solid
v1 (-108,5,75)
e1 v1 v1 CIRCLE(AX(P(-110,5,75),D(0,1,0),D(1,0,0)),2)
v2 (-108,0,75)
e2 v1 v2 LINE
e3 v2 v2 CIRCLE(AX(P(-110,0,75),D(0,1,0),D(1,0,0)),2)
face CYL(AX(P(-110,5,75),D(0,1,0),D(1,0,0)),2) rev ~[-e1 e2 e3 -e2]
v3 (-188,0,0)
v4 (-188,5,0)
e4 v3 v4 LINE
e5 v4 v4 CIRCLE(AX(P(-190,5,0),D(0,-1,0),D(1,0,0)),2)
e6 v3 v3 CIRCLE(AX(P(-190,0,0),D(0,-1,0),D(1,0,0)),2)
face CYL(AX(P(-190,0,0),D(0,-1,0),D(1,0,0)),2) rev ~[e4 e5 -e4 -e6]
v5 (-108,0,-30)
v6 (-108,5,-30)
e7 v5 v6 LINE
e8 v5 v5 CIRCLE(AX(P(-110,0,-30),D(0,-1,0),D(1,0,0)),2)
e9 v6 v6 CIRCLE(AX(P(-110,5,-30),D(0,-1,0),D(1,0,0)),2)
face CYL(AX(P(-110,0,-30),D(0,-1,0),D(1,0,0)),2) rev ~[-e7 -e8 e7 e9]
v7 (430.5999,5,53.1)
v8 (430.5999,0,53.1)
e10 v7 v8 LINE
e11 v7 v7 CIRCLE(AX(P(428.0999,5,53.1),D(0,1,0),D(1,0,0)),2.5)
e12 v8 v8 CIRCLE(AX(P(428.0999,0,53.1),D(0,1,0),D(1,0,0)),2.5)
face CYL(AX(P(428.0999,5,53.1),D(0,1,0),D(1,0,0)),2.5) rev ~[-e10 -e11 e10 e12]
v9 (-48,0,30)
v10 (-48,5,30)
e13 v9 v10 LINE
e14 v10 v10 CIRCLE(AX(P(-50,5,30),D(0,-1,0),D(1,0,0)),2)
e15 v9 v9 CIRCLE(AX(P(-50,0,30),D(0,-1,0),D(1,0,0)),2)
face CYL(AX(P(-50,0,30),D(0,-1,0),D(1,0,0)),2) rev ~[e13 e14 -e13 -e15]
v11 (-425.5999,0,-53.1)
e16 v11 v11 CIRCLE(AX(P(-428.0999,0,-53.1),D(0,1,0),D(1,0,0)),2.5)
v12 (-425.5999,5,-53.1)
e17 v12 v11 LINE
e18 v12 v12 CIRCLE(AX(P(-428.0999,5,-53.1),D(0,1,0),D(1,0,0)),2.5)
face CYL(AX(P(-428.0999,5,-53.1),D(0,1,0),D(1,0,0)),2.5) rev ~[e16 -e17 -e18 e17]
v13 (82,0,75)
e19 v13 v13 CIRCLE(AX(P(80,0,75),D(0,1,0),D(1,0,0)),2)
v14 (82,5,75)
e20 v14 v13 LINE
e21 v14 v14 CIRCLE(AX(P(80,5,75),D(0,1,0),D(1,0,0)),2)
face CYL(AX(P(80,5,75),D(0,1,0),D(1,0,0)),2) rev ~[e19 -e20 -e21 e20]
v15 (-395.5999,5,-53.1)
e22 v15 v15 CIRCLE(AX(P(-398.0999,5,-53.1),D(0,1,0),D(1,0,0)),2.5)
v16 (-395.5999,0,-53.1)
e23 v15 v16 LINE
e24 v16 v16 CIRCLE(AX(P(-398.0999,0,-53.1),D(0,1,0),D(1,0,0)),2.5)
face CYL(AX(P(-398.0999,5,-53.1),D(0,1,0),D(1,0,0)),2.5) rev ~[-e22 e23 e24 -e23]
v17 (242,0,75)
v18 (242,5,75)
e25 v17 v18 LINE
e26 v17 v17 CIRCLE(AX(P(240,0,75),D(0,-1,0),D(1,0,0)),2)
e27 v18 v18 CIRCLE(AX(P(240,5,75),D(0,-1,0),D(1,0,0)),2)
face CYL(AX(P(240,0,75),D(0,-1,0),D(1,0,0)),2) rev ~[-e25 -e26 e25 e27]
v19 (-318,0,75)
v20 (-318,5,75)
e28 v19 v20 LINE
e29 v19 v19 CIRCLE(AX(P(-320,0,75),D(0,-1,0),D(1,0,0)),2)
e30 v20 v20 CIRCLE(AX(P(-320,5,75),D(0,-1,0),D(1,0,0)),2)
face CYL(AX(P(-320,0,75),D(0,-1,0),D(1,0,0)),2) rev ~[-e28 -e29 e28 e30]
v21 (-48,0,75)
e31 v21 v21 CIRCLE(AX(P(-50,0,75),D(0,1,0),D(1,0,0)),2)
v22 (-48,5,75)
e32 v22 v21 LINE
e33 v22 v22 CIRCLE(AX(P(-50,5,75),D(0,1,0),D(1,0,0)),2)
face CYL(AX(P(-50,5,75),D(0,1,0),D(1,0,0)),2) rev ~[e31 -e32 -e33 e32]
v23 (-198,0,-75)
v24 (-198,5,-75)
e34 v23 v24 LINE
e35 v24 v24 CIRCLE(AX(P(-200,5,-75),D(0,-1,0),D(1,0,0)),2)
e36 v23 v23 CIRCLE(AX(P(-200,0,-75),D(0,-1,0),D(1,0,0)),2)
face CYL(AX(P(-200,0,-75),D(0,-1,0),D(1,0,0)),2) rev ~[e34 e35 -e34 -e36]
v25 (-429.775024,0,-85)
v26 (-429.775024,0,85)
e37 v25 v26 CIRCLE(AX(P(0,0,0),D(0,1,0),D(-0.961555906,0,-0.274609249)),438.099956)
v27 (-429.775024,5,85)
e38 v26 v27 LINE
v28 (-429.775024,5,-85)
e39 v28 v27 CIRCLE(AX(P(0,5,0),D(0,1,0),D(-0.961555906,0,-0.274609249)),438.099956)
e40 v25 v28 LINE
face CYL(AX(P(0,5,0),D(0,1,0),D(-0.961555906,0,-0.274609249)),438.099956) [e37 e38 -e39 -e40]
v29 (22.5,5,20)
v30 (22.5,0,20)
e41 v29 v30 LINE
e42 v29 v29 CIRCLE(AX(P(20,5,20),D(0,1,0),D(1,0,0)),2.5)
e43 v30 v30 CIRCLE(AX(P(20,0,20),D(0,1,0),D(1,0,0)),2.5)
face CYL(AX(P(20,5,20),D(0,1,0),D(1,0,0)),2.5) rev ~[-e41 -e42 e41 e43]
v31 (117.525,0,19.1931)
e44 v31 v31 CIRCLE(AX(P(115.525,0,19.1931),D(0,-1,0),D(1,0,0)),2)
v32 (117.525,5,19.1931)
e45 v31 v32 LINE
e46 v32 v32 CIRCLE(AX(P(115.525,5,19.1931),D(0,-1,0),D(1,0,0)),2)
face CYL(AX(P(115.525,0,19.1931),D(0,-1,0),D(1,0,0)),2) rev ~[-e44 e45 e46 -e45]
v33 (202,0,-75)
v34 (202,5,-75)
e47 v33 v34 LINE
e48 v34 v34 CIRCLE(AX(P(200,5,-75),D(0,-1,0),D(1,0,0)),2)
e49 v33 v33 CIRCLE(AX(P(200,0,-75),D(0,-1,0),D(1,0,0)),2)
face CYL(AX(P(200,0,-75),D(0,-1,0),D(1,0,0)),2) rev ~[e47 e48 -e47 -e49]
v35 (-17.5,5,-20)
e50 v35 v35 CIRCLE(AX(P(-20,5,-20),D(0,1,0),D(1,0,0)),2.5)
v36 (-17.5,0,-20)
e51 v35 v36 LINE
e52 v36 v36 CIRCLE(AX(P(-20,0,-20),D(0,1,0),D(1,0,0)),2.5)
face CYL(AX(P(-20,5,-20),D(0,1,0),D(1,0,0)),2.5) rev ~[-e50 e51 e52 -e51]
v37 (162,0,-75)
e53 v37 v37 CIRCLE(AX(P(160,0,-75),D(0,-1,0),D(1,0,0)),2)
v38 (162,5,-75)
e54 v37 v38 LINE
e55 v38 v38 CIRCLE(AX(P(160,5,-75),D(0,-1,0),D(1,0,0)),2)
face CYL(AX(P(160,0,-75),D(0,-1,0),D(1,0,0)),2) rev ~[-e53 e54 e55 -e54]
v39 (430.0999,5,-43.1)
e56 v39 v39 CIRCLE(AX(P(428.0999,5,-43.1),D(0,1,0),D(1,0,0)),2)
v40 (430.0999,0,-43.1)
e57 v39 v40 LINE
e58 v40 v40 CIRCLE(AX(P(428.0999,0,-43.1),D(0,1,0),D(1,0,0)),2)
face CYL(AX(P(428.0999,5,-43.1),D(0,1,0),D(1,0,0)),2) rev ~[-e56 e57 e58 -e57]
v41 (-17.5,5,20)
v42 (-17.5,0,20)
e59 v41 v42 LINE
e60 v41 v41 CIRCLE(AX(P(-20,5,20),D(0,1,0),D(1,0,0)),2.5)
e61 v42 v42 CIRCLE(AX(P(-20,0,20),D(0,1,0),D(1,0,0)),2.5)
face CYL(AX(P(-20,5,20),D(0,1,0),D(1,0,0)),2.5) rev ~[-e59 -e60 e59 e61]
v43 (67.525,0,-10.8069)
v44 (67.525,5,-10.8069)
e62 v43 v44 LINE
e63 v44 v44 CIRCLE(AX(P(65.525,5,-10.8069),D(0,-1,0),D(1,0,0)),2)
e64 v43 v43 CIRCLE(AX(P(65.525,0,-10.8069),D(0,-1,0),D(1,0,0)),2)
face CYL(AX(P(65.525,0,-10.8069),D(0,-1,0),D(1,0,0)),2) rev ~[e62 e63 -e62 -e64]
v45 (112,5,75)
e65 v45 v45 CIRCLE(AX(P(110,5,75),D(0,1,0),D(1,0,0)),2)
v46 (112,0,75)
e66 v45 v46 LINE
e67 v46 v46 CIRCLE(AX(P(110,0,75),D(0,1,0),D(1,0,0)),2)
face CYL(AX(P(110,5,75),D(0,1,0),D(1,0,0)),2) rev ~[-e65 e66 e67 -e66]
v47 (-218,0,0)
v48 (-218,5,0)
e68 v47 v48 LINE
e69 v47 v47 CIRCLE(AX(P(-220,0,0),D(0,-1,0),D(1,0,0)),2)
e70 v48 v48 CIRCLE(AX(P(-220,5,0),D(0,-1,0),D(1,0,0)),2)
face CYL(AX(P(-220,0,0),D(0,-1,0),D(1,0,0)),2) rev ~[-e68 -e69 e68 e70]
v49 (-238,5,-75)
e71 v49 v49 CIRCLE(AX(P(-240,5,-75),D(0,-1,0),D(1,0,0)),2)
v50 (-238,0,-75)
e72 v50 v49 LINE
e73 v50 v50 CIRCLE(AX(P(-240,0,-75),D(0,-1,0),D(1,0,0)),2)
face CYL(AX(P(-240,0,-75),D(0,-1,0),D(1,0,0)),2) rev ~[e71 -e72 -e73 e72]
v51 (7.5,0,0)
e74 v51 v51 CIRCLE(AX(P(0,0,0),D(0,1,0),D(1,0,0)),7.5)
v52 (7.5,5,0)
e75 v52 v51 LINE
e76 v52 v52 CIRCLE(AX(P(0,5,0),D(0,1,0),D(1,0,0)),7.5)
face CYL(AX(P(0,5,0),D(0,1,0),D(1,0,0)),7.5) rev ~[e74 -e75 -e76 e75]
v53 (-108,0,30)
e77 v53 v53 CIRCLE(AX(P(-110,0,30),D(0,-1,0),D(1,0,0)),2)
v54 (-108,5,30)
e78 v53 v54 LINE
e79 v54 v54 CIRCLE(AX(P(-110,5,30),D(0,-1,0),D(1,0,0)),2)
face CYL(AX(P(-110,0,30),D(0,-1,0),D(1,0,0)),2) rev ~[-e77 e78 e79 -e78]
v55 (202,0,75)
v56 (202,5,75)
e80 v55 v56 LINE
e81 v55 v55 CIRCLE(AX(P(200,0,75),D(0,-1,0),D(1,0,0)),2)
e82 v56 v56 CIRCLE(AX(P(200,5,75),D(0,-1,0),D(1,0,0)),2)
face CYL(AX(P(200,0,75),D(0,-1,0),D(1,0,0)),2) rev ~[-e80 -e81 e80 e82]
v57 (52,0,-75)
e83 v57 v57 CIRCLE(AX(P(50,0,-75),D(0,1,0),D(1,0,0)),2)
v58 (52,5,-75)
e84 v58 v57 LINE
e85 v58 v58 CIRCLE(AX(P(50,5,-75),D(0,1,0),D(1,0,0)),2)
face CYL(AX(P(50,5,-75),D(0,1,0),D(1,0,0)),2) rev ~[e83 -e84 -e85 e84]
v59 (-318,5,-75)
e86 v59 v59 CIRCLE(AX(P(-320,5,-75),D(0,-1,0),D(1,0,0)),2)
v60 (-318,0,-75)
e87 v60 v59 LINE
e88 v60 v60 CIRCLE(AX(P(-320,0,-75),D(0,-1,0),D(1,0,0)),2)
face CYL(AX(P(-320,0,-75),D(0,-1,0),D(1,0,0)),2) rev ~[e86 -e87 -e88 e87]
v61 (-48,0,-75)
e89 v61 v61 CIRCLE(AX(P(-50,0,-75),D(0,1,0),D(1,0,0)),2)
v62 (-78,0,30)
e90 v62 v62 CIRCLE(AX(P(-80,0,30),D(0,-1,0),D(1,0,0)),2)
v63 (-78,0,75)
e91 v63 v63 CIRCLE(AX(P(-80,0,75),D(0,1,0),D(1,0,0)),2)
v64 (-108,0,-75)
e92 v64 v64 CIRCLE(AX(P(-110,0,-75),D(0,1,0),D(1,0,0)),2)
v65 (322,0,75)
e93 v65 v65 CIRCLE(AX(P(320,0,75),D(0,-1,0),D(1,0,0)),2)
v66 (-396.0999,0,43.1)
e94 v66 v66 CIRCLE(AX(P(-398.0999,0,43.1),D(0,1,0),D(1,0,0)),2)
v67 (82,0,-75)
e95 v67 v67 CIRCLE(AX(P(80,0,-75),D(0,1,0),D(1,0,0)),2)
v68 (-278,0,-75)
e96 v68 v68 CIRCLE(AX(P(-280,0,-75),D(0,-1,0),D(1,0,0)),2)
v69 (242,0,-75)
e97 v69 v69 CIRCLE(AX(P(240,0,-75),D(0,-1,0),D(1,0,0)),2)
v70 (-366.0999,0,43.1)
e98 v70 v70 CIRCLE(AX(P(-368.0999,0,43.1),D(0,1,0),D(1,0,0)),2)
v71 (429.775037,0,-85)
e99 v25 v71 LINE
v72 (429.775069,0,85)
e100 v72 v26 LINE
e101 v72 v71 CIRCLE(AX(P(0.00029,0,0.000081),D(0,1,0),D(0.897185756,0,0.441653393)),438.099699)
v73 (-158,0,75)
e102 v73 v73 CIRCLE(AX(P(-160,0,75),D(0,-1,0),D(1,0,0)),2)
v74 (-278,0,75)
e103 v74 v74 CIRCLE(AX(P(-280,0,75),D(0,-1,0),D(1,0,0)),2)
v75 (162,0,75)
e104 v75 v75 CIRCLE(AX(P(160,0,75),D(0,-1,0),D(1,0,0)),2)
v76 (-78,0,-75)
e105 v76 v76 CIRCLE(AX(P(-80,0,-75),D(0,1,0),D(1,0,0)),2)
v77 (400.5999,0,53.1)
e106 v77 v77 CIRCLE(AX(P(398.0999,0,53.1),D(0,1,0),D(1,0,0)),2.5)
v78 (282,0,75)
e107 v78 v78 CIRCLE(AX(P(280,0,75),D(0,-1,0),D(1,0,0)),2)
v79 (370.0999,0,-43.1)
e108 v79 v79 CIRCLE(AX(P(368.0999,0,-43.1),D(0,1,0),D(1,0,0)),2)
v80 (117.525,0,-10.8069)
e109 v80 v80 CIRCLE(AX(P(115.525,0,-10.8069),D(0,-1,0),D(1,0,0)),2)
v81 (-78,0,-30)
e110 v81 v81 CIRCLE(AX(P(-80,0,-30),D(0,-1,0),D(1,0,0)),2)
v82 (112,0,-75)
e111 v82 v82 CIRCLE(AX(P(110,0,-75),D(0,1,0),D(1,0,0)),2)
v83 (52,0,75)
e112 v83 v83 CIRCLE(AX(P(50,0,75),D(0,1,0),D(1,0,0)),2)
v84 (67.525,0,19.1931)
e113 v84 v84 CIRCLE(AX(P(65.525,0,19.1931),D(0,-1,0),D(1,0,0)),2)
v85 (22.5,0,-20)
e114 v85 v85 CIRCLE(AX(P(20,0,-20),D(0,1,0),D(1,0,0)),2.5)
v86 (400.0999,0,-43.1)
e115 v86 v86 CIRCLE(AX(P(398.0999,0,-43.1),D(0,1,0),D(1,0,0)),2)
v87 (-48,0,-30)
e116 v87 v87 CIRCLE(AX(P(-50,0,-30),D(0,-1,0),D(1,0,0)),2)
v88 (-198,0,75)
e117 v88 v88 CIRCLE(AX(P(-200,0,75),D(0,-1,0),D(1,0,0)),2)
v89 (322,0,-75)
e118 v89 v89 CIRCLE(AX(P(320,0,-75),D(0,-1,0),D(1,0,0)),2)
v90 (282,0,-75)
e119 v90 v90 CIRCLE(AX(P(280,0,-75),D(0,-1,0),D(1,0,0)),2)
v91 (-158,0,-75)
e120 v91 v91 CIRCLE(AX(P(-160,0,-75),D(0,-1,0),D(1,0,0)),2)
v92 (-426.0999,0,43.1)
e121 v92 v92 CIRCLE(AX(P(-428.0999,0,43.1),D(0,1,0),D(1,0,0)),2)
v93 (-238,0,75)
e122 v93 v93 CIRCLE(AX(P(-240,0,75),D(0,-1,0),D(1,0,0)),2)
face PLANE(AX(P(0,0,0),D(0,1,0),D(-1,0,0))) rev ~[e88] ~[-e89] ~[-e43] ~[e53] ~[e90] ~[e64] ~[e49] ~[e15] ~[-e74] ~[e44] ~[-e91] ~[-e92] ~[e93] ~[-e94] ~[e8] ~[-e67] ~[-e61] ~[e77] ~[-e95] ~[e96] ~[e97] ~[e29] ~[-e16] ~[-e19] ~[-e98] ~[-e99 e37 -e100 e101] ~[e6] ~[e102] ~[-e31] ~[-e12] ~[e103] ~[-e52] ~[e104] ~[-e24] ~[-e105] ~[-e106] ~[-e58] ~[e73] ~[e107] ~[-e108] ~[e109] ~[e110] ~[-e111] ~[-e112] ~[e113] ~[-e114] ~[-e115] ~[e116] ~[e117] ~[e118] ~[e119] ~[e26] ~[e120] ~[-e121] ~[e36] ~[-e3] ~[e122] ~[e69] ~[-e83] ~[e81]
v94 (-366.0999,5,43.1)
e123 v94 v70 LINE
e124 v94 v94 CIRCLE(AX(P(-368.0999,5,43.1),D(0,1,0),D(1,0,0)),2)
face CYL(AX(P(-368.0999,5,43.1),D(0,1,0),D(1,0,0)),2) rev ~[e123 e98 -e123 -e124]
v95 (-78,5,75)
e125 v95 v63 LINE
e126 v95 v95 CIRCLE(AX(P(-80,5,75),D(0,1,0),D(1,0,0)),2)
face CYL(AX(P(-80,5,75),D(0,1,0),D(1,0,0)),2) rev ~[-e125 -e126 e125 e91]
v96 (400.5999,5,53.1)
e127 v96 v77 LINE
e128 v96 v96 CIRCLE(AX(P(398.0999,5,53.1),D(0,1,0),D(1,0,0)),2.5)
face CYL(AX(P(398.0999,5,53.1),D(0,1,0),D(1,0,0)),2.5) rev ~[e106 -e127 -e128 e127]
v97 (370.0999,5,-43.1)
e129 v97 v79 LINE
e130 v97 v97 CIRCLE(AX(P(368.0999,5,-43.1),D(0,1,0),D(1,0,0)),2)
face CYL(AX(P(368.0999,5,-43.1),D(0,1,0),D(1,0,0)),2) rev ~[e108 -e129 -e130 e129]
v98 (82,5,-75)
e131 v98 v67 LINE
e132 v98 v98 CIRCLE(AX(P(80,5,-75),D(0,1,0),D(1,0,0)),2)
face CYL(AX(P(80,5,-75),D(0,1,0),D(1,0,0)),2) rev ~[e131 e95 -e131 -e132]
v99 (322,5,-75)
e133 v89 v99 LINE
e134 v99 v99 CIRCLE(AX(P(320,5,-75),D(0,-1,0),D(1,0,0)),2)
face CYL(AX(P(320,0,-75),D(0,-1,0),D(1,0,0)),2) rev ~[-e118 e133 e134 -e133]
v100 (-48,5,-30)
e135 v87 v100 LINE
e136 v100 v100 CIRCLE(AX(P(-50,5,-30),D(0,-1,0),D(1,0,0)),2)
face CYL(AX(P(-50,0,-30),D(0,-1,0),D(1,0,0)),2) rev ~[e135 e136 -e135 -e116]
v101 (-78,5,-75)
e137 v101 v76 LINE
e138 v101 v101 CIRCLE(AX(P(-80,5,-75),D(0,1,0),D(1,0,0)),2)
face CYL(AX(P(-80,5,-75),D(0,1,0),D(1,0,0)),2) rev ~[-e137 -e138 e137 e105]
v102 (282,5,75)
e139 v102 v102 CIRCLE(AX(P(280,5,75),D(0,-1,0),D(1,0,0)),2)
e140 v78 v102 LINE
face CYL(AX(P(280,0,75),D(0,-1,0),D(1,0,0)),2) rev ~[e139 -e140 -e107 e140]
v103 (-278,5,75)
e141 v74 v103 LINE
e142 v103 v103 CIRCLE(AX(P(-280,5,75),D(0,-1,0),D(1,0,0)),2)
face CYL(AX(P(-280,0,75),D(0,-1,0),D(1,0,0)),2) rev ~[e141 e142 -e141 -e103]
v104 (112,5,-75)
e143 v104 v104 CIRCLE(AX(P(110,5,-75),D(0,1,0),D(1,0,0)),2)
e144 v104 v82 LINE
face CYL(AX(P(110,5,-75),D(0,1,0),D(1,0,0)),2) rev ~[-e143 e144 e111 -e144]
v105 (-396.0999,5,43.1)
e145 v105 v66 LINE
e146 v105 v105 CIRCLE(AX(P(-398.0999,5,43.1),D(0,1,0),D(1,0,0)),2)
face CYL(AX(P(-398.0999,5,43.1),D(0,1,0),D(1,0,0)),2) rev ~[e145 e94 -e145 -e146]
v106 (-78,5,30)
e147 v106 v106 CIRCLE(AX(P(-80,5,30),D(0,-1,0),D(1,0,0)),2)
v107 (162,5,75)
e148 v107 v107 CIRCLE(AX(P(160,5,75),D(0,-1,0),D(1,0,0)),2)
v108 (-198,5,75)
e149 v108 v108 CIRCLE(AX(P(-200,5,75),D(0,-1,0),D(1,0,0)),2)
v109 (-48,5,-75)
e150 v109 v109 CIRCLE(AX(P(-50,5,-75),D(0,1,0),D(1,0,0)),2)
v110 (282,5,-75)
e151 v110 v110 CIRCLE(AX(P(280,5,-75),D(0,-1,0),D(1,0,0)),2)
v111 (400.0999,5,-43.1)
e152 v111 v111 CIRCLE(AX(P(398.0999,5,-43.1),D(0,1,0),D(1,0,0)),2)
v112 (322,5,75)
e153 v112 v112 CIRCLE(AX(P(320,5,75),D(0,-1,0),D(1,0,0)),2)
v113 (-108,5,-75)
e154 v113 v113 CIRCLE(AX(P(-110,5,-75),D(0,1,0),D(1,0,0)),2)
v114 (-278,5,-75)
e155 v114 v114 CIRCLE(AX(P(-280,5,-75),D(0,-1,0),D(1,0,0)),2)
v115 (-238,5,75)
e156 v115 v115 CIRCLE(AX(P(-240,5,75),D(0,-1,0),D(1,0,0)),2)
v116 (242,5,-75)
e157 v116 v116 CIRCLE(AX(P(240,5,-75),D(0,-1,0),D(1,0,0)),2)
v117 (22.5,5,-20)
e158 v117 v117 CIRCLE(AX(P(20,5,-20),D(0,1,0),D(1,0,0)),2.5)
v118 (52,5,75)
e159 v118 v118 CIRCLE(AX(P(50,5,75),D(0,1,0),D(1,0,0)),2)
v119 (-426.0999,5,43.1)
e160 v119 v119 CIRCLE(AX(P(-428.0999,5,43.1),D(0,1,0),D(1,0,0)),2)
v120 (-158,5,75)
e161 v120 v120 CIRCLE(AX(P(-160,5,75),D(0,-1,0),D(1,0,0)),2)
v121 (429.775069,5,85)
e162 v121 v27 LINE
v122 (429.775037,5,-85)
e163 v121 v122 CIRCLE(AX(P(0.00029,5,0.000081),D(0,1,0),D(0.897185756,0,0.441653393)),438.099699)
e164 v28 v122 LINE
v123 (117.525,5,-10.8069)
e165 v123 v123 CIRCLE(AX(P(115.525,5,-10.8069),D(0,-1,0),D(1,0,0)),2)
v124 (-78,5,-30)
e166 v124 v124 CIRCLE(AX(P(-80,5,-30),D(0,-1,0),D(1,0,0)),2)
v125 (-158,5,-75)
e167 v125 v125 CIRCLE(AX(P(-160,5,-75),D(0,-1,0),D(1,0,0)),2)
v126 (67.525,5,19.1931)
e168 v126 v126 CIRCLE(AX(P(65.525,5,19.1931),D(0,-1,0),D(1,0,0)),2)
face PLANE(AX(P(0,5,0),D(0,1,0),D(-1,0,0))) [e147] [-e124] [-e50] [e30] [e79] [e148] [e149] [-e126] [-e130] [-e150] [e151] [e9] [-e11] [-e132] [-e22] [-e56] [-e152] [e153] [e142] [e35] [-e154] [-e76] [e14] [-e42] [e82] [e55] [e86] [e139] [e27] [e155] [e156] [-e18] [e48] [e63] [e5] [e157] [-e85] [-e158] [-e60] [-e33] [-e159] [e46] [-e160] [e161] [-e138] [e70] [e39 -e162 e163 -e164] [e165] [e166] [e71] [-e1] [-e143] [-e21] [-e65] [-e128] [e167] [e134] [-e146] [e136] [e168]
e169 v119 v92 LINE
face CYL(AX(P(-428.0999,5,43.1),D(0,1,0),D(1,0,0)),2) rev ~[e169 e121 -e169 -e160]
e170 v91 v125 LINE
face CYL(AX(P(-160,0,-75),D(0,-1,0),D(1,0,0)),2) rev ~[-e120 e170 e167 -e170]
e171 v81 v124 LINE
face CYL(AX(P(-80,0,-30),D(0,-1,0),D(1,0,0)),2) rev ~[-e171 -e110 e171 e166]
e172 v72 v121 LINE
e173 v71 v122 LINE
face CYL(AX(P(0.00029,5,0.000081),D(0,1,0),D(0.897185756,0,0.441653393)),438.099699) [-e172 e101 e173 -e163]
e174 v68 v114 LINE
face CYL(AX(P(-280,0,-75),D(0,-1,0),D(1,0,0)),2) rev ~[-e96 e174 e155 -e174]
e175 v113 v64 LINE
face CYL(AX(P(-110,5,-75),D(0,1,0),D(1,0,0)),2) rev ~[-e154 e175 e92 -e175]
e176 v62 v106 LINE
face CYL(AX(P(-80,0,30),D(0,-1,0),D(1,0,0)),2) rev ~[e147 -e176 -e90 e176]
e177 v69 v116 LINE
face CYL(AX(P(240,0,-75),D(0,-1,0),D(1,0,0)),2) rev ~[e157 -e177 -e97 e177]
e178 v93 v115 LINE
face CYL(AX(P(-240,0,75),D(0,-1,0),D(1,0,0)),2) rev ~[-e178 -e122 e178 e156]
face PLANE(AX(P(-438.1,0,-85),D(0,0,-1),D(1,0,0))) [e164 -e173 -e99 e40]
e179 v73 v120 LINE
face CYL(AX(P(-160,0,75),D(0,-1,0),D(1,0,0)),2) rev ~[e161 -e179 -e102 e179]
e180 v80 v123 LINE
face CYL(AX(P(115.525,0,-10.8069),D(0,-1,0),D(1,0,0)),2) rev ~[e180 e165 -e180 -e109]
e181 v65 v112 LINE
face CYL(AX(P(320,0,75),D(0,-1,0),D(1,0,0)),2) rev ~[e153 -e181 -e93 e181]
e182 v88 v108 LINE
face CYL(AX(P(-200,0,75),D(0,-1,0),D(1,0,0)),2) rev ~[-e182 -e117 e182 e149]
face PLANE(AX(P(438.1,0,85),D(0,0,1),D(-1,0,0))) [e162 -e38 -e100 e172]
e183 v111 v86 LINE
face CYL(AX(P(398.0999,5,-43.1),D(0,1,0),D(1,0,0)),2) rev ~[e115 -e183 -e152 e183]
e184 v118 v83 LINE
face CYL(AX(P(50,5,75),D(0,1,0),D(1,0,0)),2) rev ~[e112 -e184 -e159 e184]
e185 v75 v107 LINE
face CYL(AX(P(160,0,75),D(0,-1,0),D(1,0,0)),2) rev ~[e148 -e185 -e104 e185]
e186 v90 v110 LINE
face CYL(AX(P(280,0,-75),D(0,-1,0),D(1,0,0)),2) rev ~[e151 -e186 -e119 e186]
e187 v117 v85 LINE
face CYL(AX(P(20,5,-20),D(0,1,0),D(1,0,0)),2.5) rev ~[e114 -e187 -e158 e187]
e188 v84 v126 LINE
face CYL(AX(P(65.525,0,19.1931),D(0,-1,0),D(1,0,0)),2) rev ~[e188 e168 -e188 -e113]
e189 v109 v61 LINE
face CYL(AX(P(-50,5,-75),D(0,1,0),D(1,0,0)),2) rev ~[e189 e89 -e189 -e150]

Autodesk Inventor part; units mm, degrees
ref_plane "YZ Plane" through (0, 0, 0) normal (1, 0, 0) x (0, 1, 0)
ref_plane "XZ Plane" through (0, 0, 0) normal (0, 1, 0) x (-1, 0, 0)
ref_plane "XY Plane" through (0, 0, 0) normal (0, 0, 1) x (1, 0, 0)
sketch "Sketch1" plane through (0, 0, 0) normal (0, 1, 0) x (-1, 0, 0)
  line L0 (-438.1, 85) -> (438.1, 85)
  line L1 (438.1, 85) -> (438.1, -85)
  line L2 (438.1, -85) -> (-438.1, -85)
  line L3 (-438.1, -85) -> (-438.1, 85)
  line L4 (-438.1, 85) -> (438.1, -85) construction
  line L5 (438.1, 85) -> (-438.1, -85) construction
  point P0 (0, 0)
  dimension "d0" = 876.2
  dimension "d1" = 170
extrude "Extrusion1" add sketch "Sketch1" along normal blind 5
sketch "Sketch2" plane through (0, 5, 0) normal (0, 1, 0) x (1, 0, 0)
  line L0 (-421.2576, -120.3063) -> (-479.2742, -135.6981)
  line L1 (-479.2742, -135.6981) -> (-482.0374, 181.5112)
  line L2 (-482.0374, 181.5112) -> (-421.2576, 120.3063)
  line L3 (393.0571, -193.4883) -> (511.4336, -241.3123)
  line L4 (511.4336, -241.3123) -> (507.278, 235.7508)
  line L5 (507.278, 235.7508) -> (421.2576, 120.3063)
  arc A0 (393.0571, -193.4883) -> (421.2576, 120.3063) centre (0, 0) ccw
  arc A1 (-421.2576, 120.3063) -> (-421.2576, -120.3063) centre (0, 0) ccw
extrude "Extrusion2" cut sketch "Sketch2" against normal through all
sketch "Sketch3" plane through (0, 5, 0) normal (0, 1, 0) x (1, 0, 0)
  circle A0 centre (0, 0) radius 7.5
  dimension "d6" = 15
extrude "Extrusion3" cut sketch "Sketch3" against normal through all
sketch "Sketch4" plane through (0, 5, 0) normal (0, 1, 0) x (1, 0, 0)
  point P0 (0, 0)
sketch "Sketch5" plane through (0, 5, 0) normal (0, 1, 0) x (1, 0, 0)
  line L0 (30, -30) -> (-30, -30) construction
  line L1 (-30, -30) -> (-30, 30) construction
  line L2 (-30, 30) -> (30, 30) construction
  line L3 (30, 30) -> (30, -30) construction
  circle A0 centre (0, 0) radius 7.5 projected
  line L4 (30, -30) -> (-30, 30) construction
  line L5 (-30, -30) -> (30, 30) construction
  circle A1 centre (-20, -20) radius 2.5
  circle A2 centre (-20, 20) radius 2.5
  circle A3 centre (20, 20) radius 2.5
  circle A4 centre (20, -20) radius 2.5
  dimension "d9" = 60
  dimension "d10" = 60
  dimension "d11" = 5
  dimension "d12" = 5
  dimension "d13" = 5
  dimension "d14" = 5
  dimension "d15" = 10
  dimension "d16" = 10
  dimension "d17" = 10
  dimension "d18" = 10
extrude "Extrusion4" cut sketch "Sketch5" against normal through all contours A1 | A2 | A3 | A4
sketch "Sketch6" plane through (0, 5, 0) normal (0, 1, 0) x (1, 0, 0)
  circle A0 centre (-428.0999, -43.1) radius 2
  circle A1 centre (-428.0999, 53.1) radius 2.5
  line L0 (-377.1739, 38.1) -> (-433.9276, 38.1) construction
  line L1 (-433.9276, 38.1) -> (-433.9276, -38.1) construction
  line L2 (-433.9276, -38.1) -> (-377.1739, -38.1) construction
  line L3 (-377.1739, -38.1) -> (-377.1739, 38.1) construction
  line L4 (-377.1739, 38.1) -> (-433.9276, -38.1) construction
  line L5 (-433.9276, 38.1) -> (-377.1739, -38.1) construction
  line L6 (0, 0) -> (-428.0999, -43.1) construction
  line L7 (-429.7751, -85) -> (429.7751, -85) projected
  line L8 (-428.0999, -43.1) -> (-428.0999, 53.1) construction
  circle A2 centre (-398.0999, -43.1) radius 2
  circle A3 centre (-368.0999, -43.1) radius 2
  circle A4 centre (-398.0999, 53.1) radius 2.5
  line L9 (0, -85) -> (0, 85) construction
  line L10 (429.7751, 85) -> (-429.7751, 85) projected
  line L11 (377.1739, 38.1) -> (433.9276, 38.1) construction
  line L12 (438.1, 0) -> (328.0571, 0)
  circle A5 centre (428.0999, 43.1) radius 2
  circle A6 centre (398.0999, 43.1) radius 2
  circle A7 centre (368.0999, 43.1) radius 2
  circle A8 centre (398.0999, -53.1) radius 2.5
  circle A9 centre (428.0999, -53.1) radius 2.5
  point P0 (-405.5507, 0)
  dimension "d21" = 4
  dimension "d22" = 5
  dimension "d23" = 96.2
  dimension "d27" = 85
  dimension "d28" = 90
  dimension "d29" = 430.264
  dimension "d30" = 4
  dimension "d31" = 4
  dimension "d32" = 5
  dimension "d33" = 30
  dimension "d34" = 30
  dimension "d35" = 30
  dimension "d36" = 81.2
  dimension "d37" = 81.2
  dimension "d38" = 81.2
  dimension "d39" = 76.2
  dimension "d40" = 15
extrude "Extrusion5" cut sketch "Sketch6" against normal through all
sketch "Sketch7" plane through (0, 5, 0) normal (0, 1, 0) x (1, 0, 0)
  circle A0 centre (-110, -75) radius 2
  circle A1 centre (-80, -75) radius 2
  circle A2 centre (-50, -75) radius 2
  circle A3 centre (-110, 75) radius 2
  circle A4 centre (-80, 75) radius 2
  circle A5 centre (-50, 75) radius 2
  line L0 (-429.7751, -85) -> (429.7751, -85) projected
  line L1 (0, -85) -> (0, 85)
  line L2 (429.7751, 85) -> (-429.7751, 85) projected
  circle A6 centre (110, -75) radius 2
  circle A7 centre (80, -75) radius 2
  circle A8 centre (50, -75) radius 2
  circle A9 centre (110, 75) radius 2
  circle A10 centre (80, 75) radius 2
  circle A11 centre (50, 75) radius 2
  point P0 (0, 0)
  point P1 (0, 0)
  dimension "d43" = 4
  dimension "d44" = 4
  dimension "d45" = 4
  dimension "d46" = 4
  dimension "d47" = 4
  dimension "d48" = 4
  dimension "d49" = 30
  dimension "d56" = 30
  dimension "d58" = 50
  dimension "d126" = 10
  dimension "d127" = 10
  dimension "d128" = 10
  dimension "d129" = 30
  dimension "d130" = 30
  dimension "d131" = 50
  dimension "d132" = 10
extrude "Extrusion6" cut sketch "Sketch7" against normal through all
sketch "Sketch8" plane through (0, 0, 0) normal (0, -1, 0) x (1, 0, 0)
  circle A0 centre (-160, 75) radius 2
  circle A1 centre (-200, 75) radius 2
  circle A2 centre (-240, 75) radius 2
  circle A3 centre (-280, 75) radius 2
  circle A4 centre (-320, 75) radius 2
  circle A5 centre (-110, 75) radius 2 projected
  line L0 (-429.7751, 85) -> (429.7751, 85) projected
  line L1 (-390.896, 0) -> (65.5505, 0)
  line L2 (0, 85) -> (0, -85)
  line L3 (429.7751, -85) -> (-429.7751, -85) projected
  circle A6 centre (-160, -75) radius 2
  circle A7 centre (-200, -75) radius 2
  circle A8 centre (-240, -75) radius 2
  circle A9 centre (-280, -75) radius 2
  circle A10 centre (-320, -75) radius 2
  circle A11 centre (160, 75) radius 2
  circle A12 centre (200, 75) radius 2
  circle A13 centre (240, 75) radius 2
  circle A14 centre (280, 75) radius 2
  circle A15 centre (320, 75) radius 2
  circle A16 centre (320, -75) radius 2
  circle A17 centre (280, -75) radius 2
  circle A18 centre (240, -75) radius 2
  circle A19 centre (200, -75) radius 2
  circle A20 centre (160, -75) radius 2
  point P0 (0, 0)
  dimension "d61" = 4
  dimension "d62" = 4
  dimension "d63" = 4
  dimension "d64" = 4
  dimension "d65" = 4
  dimension "d66" = 40
  dimension "d67" = 40
  dimension "d68" = 40
  dimension "d69" = 40
  dimension "d70" = 50
  dimension "d71" = 10
  dimension "d72" = 10
  dimension "d73" = 10
  dimension "d74" = 10
  dimension "d75" = 10
extrude "Extrusion7" cut sketch "Sketch8" against normal through all contours A0 | A1 | A2 | A3 | A4 | A6 | A7 | A8 | A9 | A10 | A11 | A12 | A13 | A14 | A15 | A16 | A17 | A18 | A19 | A20
sketch "Sketch10" plane through (0, 0, 0) normal (0, -1, 0) x (1, 0, 0)
  circle A0 centre (428.0999, -43.1) radius 2 projected
  line L0 (428.0999, -43.1) -> (428.0999, -76.869)
  line L1 (429.7751, -85) -> (-429.7751, -85) projected
  circle A1 centre (-428.0999, 43.1) radius 2 projected
  line L2 (-428.0999, 43.1) -> (-428.0999, 76.869)
  line L3 (-428.0999, 76.869) -> (96.8155, 49.3593) construction
  line L4 (-429.7751, 85) -> (429.7751, 85) projected
  line L5 (80, 50.2406) -> (80, -58.6259) construction
  line L6 (80, -58.6259) -> (80, 4.1931) construction
  circle A2 centre (80, 4.1931) radius 2.5 construction
  line L7 (120.525, -15.8069) -> (60.525, -15.8069) construction
  line L8 (60.525, -15.8069) -> (60.525, 24.1931) construction
  line L9 (60.525, 24.1931) -> (120.525, 24.1931) construction
  line L10 (120.525, 24.1931) -> (120.525, -15.8069) construction
  line L11 (120.525, -15.8069) -> (60.525, 24.1931) construction
  line L12 (60.525, -15.8069) -> (120.525, 24.1931) construction
  circle A3 centre (65.525, 19.1931) radius 2
  circle A4 centre (65.525, -10.8069) radius 2
  circle A5 centre (115.525, -10.8069) radius 2
  circle A6 centre (115.525, 19.1931) radius 2
  line L13 (428.0999, -76.869) -> (80, -58.6259)
  point P0 (0, 0)
  point P1 (90.525, 4.1931)
  point P2 (80, -4.1926)
  dimension "d83" = 33.769
  dimension "d84" = 33.769
  dimension "d86" = 177
  dimension "d87" = 80
  dimension "d88" = 108.8665
  dimension "d91" = 5
  dimension "d92" = 60
  dimension "d93" = 40
  dimension "d95" = 19.475
  dimension "d96" = 4
  dimension "d97" = 4
  dimension "d98" = 4
  dimension "d99" = 4
  dimension "d100" = 5
  dimension "d101" = 5
  dimension "d102" = 5
  dimension "d103" = 5
  dimension "d104" = 5
  dimension "d105" = 5
  dimension "d106" = 5
  dimension "d107" = 5
  dimension "d110" = 177
  dimension "d133" = 20
  dimension "d135" = 62.819
extrude "Extrusion8" cut sketch "Sketch10" against normal blind 10 contours A3 | A4 | A5 | A6
sketch "Sketch11" plane through (0, 0, 0) normal (0, -1, 0) x (1, 0, 0)
  circle A0 centre (-110, 30) radius 2
  circle A1 centre (-80, 30) radius 2
  circle A2 centre (-50, 30) radius 2
  circle A3 centre (-50, -30) radius 2
  circle A4 centre (-80, -30) radius 2
  circle A5 centre (-110, -30) radius 2
  point P0 (0, 0)
  dimension "d111" = 30
  dimension "d112" = 30
  dimension "d113" = 30
  dimension "d114" = 30
  dimension "d115" = 30
  dimension "d116" = 30
  dimension "d117" = 4
  dimension "d118" = 4
  dimension "d119" = 4
  dimension "d120" = 4
  dimension "d121" = 4
  dimension "d122" = 4
  dimension "d123" = 30
extrude "Extrusion9" cut sketch "Sketch11" against normal through all
sketch "Sketch12" plane through (0, 0, 0) normal (0, -1, 0) x (1, 0, 0)
  circle A0 centre (-220, 0) radius 2
  circle A1 centre (-190, 0) radius 2
  circle A2 centre (0, 0) radius 7.5 projected
  dimension "d136" = 190
  dimension "d137" = 220
  dimension "d138" = 4
  dimension "d139" = 4
extrude "Extrusion10" cut sketch "Sketch12" against normal blind 10 contours A0 | A1
sketch "Sketch13" plane through (0, 5, 0) normal (0, 1, 0) x (1, 0, 0)
  circle A0 centre (-190, 0) radius 2 projected
  circle A1 centre (-220, 0) radius 2 projected
  circle A2 centre (-50, 30) radius 2 projected
  circle A3 centre (-110, -30) radius 2 projected
  circle A4 centre (-50, -30) radius 2 projected
  circle A5 centre (-80, -30) radius 2 projected
  circle A6 centre (-80, 30) radius 2 projected
  circle A7 centre (-110, 30) radius 2 projected
  circle A8 centre (65.525, -19.1931) radius 2 projected
  circle A9 centre (115.525, 10.8069) radius 2 projected
  circle A10 centre (65.525, 10.8069) radius 2 projected
  circle A11 centre (115.525, -19.1931) radius 2 projected
  circle A12 centre (-200, -75) radius 2 projected
  circle A13 centre (-320, 75) radius 2 projected
  circle A14 centre (200, -75) radius 2 projected
  circle A15 centre (160, -75) radius 2 projected
  circle A16 centre (280, 75) radius 2 projected
  circle A17 centre (280, -75) radius 2 projected
  circle A18 centre (240, 75) radius 2 projected
  circle A19 centre (-240, -75) radius 2 projected
  circle A20 centre (-240, 75) radius 2 projected
  circle A21 centre (-280, -75) radius 2 projected
  circle A22 centre (-160, 75) radius 2 projected
  circle A23 centre (-160, -75) radius 2 projected
  circle A24 centre (320, 75) radius 2 projected
  circle A25 centre (200, 75) radius 2 projected
  circle A26 centre (320, -75) radius 2 projected
  circle A27 centre (160, 75) radius 2 projected
  circle A28 centre (240, -75) radius 2 projected
  circle A29 centre (-320, -75) radius 2 projected
  circle A30 centre (-200, 75) radius 2 projected
  circle A31 centre (-280, 75) radius 2 projected
  circle A32 centre (80, 75) radius 2 projected
  circle A33 centre (-50, 75) radius 2 projected
  circle A34 centre (-80, -75) radius 2 projected
  circle A35 centre (-50, -75) radius 2 projected
  circle A36 centre (110, -75) radius 2 projected
  circle A37 centre (110, 75) radius 2 projected
  circle A38 centre (50, -75) radius 2 projected
  circle A39 centre (-110, 75) radius 2 projected
  circle A40 centre (-110, -75) radius 2 projected
  circle A41 centre (-80, 75) radius 2 projected
  circle A42 centre (50, 75) radius 2 projected
  circle A43 centre (80, -75) radius 2 projected
  circle A44 centre (398.0999, 43.1) radius 2 projected
  circle A45 centre (-368.0999, -43.1) radius 2 projected
  circle A46 centre (-428.0999, -43.1) radius 2 projected
  circle A47 centre (-398.0999, 53.1) radius 2.5 projected
  circle A48 centre (368.0999, 43.1) radius 2 projected
  circle A49 centre (428.0999, 43.1) radius 2 projected
  circle A50 centre (-398.0999, -43.1) radius 2 projected
  circle A51 centre (-428.0999, 53.1) radius 2.5 projected
  circle A52 centre (398.0999, -53.1) radius 2.5 projected
  circle A53 centre (428.0999, -53.1) radius 2.5 projected
  circle A54 centre (-20, 20) radius 2.5 projected
  circle A55 centre (-20, -20) radius 2.5 projected
  circle A56 centre (20, 20) radius 2.5 projected
  circle A57 centre (20, -20) radius 2.5 projected
  circle A58 centre (0, 0) radius 7.5 projected
  arc A59 (-429.7751, 85) -> (-429.7751, -85) centre (0, 0) ccw projected
  line L0 (-429.7751, -85) -> (429.7751, -85) projected
  arc A60 (429.7751, -85) -> (429.7751, 85) centre (0, 0) ccw projected
  line L1 (429.7751, 85) -> (-429.7751, 85) projected
  line L2 (429.7751, 85) -> (-429.7751, 85) projected
  circle A61 centre (-190, 0) radius 2 projected
  circle A62 centre (-220, 0) radius 2 projected
  circle A63 centre (-50, 30) radius 2 projected
  circle A64 centre (-110, -30) radius 2 projected
  circle A65 centre (-50, -30) radius 2 projected
  circle A66 centre (-80, -30) radius 2 projected
  circle A67 centre (-80, 30) radius 2 projected
  circle A68 centre (-110, 30) radius 2 projected
  circle A69 centre (65.525, -19.1931) radius 2 projected
  circle A70 centre (115.525, 10.8069) radius 2 projected
  circle A71 centre (65.525, 10.8069) radius 2 projected
  circle A72 centre (115.525, -19.1931) radius 2 projected
  circle A73 centre (-200, -75) radius 2 projected
  circle A74 centre (-320, 75) radius 2 projected
  circle A75 centre (200, -75) radius 2 projected
  circle A76 centre (160, -75) radius 2 projected
  circle A77 centre (280, 75) radius 2 projected
  circle A78 centre (280, -75) radius 2 projected
  circle A79 centre (240, 75) radius 2 projected
  circle A80 centre (-240, -75) radius 2 projected
  circle A81 centre (-240, 75) radius 2 projected
  circle A82 centre (-280, -75) radius 2 projected
  circle A83 centre (-160, 75) radius 2 projected
  circle A84 centre (-160, -75) radius 2 projected
  circle A85 centre (320, 75) radius 2 projected
  circle A86 centre (200, 75) radius 2 projected
  circle A87 centre (320, -75) radius 2 projected
  circle A88 centre (160, 75) radius 2 projected
  circle A89 centre (240, -75) radius 2 projected
  circle A90 centre (-320, -75) radius 2 projected
  circle A91 centre (-200, 75) radius 2 projected
  circle A92 centre (-280, 75) radius 2 projected
  circle A93 centre (80, 75) radius 2 projected
  circle A94 centre (-50, 75) radius 2 projected
  circle A95 centre (-80, -75) radius 2 projected
  circle A96 centre (-50, -75) radius 2 projected
  circle A97 centre (110, -75) radius 2 projected
  circle A98 centre (110, 75) radius 2 projected
  circle A99 centre (50, -75) radius 2 projected
  circle A100 centre (-110, 75) radius 2 projected
  circle A101 centre (-110, -75) radius 2 projected
  circle A102 centre (-80, 75) radius 2 projected
  circle A103 centre (50, 75) radius 2 projected
  circle A104 centre (80, -75) radius 2 projected
  circle A105 centre (398.0999, 43.1) radius 2 projected
  circle A106 centre (-368.0999, -43.1) radius 2 projected
  circle A107 centre (-428.0999, -43.1) radius 2 projected
  circle A108 centre (-398.0999, 53.1) radius 2.5 projected
  circle A109 centre (368.0999, 43.1) radius 2 projected
  circle A110 centre (428.0999, 43.1) radius 2 projected
  circle A111 centre (-398.0999, -43.1) radius 2 projected
  circle A112 centre (-428.0999, 53.1) radius 2.5 projected
  circle A113 centre (398.0999, -53.1) radius 2.5 projected
  circle A114 centre (428.0999, -53.1) radius 2.5 projected
  circle A115 centre (-20, 20) radius 2.5 projected
  circle A116 centre (-20, -20) radius 2.5 projected
  circle A117 centre (20, 20) radius 2.5 projected
  circle A118 centre (20, -20) radius 2.5 projected
  circle A119 centre (0, 0) radius 7.5 projected
  arc A120 (-429.7751, 85) -> (-429.7751, -85) centre (0, 0) ccw projected
  line L3 (-429.7751, -85) -> (429.7751, -85) projected
  arc A121 (429.7751, -85) -> (429.7751, 85) centre (0, 0) ccw projected
  line L4 (429.7751, 85) -> (-429.7751, 85) projected
properties part number "RotorV2"
